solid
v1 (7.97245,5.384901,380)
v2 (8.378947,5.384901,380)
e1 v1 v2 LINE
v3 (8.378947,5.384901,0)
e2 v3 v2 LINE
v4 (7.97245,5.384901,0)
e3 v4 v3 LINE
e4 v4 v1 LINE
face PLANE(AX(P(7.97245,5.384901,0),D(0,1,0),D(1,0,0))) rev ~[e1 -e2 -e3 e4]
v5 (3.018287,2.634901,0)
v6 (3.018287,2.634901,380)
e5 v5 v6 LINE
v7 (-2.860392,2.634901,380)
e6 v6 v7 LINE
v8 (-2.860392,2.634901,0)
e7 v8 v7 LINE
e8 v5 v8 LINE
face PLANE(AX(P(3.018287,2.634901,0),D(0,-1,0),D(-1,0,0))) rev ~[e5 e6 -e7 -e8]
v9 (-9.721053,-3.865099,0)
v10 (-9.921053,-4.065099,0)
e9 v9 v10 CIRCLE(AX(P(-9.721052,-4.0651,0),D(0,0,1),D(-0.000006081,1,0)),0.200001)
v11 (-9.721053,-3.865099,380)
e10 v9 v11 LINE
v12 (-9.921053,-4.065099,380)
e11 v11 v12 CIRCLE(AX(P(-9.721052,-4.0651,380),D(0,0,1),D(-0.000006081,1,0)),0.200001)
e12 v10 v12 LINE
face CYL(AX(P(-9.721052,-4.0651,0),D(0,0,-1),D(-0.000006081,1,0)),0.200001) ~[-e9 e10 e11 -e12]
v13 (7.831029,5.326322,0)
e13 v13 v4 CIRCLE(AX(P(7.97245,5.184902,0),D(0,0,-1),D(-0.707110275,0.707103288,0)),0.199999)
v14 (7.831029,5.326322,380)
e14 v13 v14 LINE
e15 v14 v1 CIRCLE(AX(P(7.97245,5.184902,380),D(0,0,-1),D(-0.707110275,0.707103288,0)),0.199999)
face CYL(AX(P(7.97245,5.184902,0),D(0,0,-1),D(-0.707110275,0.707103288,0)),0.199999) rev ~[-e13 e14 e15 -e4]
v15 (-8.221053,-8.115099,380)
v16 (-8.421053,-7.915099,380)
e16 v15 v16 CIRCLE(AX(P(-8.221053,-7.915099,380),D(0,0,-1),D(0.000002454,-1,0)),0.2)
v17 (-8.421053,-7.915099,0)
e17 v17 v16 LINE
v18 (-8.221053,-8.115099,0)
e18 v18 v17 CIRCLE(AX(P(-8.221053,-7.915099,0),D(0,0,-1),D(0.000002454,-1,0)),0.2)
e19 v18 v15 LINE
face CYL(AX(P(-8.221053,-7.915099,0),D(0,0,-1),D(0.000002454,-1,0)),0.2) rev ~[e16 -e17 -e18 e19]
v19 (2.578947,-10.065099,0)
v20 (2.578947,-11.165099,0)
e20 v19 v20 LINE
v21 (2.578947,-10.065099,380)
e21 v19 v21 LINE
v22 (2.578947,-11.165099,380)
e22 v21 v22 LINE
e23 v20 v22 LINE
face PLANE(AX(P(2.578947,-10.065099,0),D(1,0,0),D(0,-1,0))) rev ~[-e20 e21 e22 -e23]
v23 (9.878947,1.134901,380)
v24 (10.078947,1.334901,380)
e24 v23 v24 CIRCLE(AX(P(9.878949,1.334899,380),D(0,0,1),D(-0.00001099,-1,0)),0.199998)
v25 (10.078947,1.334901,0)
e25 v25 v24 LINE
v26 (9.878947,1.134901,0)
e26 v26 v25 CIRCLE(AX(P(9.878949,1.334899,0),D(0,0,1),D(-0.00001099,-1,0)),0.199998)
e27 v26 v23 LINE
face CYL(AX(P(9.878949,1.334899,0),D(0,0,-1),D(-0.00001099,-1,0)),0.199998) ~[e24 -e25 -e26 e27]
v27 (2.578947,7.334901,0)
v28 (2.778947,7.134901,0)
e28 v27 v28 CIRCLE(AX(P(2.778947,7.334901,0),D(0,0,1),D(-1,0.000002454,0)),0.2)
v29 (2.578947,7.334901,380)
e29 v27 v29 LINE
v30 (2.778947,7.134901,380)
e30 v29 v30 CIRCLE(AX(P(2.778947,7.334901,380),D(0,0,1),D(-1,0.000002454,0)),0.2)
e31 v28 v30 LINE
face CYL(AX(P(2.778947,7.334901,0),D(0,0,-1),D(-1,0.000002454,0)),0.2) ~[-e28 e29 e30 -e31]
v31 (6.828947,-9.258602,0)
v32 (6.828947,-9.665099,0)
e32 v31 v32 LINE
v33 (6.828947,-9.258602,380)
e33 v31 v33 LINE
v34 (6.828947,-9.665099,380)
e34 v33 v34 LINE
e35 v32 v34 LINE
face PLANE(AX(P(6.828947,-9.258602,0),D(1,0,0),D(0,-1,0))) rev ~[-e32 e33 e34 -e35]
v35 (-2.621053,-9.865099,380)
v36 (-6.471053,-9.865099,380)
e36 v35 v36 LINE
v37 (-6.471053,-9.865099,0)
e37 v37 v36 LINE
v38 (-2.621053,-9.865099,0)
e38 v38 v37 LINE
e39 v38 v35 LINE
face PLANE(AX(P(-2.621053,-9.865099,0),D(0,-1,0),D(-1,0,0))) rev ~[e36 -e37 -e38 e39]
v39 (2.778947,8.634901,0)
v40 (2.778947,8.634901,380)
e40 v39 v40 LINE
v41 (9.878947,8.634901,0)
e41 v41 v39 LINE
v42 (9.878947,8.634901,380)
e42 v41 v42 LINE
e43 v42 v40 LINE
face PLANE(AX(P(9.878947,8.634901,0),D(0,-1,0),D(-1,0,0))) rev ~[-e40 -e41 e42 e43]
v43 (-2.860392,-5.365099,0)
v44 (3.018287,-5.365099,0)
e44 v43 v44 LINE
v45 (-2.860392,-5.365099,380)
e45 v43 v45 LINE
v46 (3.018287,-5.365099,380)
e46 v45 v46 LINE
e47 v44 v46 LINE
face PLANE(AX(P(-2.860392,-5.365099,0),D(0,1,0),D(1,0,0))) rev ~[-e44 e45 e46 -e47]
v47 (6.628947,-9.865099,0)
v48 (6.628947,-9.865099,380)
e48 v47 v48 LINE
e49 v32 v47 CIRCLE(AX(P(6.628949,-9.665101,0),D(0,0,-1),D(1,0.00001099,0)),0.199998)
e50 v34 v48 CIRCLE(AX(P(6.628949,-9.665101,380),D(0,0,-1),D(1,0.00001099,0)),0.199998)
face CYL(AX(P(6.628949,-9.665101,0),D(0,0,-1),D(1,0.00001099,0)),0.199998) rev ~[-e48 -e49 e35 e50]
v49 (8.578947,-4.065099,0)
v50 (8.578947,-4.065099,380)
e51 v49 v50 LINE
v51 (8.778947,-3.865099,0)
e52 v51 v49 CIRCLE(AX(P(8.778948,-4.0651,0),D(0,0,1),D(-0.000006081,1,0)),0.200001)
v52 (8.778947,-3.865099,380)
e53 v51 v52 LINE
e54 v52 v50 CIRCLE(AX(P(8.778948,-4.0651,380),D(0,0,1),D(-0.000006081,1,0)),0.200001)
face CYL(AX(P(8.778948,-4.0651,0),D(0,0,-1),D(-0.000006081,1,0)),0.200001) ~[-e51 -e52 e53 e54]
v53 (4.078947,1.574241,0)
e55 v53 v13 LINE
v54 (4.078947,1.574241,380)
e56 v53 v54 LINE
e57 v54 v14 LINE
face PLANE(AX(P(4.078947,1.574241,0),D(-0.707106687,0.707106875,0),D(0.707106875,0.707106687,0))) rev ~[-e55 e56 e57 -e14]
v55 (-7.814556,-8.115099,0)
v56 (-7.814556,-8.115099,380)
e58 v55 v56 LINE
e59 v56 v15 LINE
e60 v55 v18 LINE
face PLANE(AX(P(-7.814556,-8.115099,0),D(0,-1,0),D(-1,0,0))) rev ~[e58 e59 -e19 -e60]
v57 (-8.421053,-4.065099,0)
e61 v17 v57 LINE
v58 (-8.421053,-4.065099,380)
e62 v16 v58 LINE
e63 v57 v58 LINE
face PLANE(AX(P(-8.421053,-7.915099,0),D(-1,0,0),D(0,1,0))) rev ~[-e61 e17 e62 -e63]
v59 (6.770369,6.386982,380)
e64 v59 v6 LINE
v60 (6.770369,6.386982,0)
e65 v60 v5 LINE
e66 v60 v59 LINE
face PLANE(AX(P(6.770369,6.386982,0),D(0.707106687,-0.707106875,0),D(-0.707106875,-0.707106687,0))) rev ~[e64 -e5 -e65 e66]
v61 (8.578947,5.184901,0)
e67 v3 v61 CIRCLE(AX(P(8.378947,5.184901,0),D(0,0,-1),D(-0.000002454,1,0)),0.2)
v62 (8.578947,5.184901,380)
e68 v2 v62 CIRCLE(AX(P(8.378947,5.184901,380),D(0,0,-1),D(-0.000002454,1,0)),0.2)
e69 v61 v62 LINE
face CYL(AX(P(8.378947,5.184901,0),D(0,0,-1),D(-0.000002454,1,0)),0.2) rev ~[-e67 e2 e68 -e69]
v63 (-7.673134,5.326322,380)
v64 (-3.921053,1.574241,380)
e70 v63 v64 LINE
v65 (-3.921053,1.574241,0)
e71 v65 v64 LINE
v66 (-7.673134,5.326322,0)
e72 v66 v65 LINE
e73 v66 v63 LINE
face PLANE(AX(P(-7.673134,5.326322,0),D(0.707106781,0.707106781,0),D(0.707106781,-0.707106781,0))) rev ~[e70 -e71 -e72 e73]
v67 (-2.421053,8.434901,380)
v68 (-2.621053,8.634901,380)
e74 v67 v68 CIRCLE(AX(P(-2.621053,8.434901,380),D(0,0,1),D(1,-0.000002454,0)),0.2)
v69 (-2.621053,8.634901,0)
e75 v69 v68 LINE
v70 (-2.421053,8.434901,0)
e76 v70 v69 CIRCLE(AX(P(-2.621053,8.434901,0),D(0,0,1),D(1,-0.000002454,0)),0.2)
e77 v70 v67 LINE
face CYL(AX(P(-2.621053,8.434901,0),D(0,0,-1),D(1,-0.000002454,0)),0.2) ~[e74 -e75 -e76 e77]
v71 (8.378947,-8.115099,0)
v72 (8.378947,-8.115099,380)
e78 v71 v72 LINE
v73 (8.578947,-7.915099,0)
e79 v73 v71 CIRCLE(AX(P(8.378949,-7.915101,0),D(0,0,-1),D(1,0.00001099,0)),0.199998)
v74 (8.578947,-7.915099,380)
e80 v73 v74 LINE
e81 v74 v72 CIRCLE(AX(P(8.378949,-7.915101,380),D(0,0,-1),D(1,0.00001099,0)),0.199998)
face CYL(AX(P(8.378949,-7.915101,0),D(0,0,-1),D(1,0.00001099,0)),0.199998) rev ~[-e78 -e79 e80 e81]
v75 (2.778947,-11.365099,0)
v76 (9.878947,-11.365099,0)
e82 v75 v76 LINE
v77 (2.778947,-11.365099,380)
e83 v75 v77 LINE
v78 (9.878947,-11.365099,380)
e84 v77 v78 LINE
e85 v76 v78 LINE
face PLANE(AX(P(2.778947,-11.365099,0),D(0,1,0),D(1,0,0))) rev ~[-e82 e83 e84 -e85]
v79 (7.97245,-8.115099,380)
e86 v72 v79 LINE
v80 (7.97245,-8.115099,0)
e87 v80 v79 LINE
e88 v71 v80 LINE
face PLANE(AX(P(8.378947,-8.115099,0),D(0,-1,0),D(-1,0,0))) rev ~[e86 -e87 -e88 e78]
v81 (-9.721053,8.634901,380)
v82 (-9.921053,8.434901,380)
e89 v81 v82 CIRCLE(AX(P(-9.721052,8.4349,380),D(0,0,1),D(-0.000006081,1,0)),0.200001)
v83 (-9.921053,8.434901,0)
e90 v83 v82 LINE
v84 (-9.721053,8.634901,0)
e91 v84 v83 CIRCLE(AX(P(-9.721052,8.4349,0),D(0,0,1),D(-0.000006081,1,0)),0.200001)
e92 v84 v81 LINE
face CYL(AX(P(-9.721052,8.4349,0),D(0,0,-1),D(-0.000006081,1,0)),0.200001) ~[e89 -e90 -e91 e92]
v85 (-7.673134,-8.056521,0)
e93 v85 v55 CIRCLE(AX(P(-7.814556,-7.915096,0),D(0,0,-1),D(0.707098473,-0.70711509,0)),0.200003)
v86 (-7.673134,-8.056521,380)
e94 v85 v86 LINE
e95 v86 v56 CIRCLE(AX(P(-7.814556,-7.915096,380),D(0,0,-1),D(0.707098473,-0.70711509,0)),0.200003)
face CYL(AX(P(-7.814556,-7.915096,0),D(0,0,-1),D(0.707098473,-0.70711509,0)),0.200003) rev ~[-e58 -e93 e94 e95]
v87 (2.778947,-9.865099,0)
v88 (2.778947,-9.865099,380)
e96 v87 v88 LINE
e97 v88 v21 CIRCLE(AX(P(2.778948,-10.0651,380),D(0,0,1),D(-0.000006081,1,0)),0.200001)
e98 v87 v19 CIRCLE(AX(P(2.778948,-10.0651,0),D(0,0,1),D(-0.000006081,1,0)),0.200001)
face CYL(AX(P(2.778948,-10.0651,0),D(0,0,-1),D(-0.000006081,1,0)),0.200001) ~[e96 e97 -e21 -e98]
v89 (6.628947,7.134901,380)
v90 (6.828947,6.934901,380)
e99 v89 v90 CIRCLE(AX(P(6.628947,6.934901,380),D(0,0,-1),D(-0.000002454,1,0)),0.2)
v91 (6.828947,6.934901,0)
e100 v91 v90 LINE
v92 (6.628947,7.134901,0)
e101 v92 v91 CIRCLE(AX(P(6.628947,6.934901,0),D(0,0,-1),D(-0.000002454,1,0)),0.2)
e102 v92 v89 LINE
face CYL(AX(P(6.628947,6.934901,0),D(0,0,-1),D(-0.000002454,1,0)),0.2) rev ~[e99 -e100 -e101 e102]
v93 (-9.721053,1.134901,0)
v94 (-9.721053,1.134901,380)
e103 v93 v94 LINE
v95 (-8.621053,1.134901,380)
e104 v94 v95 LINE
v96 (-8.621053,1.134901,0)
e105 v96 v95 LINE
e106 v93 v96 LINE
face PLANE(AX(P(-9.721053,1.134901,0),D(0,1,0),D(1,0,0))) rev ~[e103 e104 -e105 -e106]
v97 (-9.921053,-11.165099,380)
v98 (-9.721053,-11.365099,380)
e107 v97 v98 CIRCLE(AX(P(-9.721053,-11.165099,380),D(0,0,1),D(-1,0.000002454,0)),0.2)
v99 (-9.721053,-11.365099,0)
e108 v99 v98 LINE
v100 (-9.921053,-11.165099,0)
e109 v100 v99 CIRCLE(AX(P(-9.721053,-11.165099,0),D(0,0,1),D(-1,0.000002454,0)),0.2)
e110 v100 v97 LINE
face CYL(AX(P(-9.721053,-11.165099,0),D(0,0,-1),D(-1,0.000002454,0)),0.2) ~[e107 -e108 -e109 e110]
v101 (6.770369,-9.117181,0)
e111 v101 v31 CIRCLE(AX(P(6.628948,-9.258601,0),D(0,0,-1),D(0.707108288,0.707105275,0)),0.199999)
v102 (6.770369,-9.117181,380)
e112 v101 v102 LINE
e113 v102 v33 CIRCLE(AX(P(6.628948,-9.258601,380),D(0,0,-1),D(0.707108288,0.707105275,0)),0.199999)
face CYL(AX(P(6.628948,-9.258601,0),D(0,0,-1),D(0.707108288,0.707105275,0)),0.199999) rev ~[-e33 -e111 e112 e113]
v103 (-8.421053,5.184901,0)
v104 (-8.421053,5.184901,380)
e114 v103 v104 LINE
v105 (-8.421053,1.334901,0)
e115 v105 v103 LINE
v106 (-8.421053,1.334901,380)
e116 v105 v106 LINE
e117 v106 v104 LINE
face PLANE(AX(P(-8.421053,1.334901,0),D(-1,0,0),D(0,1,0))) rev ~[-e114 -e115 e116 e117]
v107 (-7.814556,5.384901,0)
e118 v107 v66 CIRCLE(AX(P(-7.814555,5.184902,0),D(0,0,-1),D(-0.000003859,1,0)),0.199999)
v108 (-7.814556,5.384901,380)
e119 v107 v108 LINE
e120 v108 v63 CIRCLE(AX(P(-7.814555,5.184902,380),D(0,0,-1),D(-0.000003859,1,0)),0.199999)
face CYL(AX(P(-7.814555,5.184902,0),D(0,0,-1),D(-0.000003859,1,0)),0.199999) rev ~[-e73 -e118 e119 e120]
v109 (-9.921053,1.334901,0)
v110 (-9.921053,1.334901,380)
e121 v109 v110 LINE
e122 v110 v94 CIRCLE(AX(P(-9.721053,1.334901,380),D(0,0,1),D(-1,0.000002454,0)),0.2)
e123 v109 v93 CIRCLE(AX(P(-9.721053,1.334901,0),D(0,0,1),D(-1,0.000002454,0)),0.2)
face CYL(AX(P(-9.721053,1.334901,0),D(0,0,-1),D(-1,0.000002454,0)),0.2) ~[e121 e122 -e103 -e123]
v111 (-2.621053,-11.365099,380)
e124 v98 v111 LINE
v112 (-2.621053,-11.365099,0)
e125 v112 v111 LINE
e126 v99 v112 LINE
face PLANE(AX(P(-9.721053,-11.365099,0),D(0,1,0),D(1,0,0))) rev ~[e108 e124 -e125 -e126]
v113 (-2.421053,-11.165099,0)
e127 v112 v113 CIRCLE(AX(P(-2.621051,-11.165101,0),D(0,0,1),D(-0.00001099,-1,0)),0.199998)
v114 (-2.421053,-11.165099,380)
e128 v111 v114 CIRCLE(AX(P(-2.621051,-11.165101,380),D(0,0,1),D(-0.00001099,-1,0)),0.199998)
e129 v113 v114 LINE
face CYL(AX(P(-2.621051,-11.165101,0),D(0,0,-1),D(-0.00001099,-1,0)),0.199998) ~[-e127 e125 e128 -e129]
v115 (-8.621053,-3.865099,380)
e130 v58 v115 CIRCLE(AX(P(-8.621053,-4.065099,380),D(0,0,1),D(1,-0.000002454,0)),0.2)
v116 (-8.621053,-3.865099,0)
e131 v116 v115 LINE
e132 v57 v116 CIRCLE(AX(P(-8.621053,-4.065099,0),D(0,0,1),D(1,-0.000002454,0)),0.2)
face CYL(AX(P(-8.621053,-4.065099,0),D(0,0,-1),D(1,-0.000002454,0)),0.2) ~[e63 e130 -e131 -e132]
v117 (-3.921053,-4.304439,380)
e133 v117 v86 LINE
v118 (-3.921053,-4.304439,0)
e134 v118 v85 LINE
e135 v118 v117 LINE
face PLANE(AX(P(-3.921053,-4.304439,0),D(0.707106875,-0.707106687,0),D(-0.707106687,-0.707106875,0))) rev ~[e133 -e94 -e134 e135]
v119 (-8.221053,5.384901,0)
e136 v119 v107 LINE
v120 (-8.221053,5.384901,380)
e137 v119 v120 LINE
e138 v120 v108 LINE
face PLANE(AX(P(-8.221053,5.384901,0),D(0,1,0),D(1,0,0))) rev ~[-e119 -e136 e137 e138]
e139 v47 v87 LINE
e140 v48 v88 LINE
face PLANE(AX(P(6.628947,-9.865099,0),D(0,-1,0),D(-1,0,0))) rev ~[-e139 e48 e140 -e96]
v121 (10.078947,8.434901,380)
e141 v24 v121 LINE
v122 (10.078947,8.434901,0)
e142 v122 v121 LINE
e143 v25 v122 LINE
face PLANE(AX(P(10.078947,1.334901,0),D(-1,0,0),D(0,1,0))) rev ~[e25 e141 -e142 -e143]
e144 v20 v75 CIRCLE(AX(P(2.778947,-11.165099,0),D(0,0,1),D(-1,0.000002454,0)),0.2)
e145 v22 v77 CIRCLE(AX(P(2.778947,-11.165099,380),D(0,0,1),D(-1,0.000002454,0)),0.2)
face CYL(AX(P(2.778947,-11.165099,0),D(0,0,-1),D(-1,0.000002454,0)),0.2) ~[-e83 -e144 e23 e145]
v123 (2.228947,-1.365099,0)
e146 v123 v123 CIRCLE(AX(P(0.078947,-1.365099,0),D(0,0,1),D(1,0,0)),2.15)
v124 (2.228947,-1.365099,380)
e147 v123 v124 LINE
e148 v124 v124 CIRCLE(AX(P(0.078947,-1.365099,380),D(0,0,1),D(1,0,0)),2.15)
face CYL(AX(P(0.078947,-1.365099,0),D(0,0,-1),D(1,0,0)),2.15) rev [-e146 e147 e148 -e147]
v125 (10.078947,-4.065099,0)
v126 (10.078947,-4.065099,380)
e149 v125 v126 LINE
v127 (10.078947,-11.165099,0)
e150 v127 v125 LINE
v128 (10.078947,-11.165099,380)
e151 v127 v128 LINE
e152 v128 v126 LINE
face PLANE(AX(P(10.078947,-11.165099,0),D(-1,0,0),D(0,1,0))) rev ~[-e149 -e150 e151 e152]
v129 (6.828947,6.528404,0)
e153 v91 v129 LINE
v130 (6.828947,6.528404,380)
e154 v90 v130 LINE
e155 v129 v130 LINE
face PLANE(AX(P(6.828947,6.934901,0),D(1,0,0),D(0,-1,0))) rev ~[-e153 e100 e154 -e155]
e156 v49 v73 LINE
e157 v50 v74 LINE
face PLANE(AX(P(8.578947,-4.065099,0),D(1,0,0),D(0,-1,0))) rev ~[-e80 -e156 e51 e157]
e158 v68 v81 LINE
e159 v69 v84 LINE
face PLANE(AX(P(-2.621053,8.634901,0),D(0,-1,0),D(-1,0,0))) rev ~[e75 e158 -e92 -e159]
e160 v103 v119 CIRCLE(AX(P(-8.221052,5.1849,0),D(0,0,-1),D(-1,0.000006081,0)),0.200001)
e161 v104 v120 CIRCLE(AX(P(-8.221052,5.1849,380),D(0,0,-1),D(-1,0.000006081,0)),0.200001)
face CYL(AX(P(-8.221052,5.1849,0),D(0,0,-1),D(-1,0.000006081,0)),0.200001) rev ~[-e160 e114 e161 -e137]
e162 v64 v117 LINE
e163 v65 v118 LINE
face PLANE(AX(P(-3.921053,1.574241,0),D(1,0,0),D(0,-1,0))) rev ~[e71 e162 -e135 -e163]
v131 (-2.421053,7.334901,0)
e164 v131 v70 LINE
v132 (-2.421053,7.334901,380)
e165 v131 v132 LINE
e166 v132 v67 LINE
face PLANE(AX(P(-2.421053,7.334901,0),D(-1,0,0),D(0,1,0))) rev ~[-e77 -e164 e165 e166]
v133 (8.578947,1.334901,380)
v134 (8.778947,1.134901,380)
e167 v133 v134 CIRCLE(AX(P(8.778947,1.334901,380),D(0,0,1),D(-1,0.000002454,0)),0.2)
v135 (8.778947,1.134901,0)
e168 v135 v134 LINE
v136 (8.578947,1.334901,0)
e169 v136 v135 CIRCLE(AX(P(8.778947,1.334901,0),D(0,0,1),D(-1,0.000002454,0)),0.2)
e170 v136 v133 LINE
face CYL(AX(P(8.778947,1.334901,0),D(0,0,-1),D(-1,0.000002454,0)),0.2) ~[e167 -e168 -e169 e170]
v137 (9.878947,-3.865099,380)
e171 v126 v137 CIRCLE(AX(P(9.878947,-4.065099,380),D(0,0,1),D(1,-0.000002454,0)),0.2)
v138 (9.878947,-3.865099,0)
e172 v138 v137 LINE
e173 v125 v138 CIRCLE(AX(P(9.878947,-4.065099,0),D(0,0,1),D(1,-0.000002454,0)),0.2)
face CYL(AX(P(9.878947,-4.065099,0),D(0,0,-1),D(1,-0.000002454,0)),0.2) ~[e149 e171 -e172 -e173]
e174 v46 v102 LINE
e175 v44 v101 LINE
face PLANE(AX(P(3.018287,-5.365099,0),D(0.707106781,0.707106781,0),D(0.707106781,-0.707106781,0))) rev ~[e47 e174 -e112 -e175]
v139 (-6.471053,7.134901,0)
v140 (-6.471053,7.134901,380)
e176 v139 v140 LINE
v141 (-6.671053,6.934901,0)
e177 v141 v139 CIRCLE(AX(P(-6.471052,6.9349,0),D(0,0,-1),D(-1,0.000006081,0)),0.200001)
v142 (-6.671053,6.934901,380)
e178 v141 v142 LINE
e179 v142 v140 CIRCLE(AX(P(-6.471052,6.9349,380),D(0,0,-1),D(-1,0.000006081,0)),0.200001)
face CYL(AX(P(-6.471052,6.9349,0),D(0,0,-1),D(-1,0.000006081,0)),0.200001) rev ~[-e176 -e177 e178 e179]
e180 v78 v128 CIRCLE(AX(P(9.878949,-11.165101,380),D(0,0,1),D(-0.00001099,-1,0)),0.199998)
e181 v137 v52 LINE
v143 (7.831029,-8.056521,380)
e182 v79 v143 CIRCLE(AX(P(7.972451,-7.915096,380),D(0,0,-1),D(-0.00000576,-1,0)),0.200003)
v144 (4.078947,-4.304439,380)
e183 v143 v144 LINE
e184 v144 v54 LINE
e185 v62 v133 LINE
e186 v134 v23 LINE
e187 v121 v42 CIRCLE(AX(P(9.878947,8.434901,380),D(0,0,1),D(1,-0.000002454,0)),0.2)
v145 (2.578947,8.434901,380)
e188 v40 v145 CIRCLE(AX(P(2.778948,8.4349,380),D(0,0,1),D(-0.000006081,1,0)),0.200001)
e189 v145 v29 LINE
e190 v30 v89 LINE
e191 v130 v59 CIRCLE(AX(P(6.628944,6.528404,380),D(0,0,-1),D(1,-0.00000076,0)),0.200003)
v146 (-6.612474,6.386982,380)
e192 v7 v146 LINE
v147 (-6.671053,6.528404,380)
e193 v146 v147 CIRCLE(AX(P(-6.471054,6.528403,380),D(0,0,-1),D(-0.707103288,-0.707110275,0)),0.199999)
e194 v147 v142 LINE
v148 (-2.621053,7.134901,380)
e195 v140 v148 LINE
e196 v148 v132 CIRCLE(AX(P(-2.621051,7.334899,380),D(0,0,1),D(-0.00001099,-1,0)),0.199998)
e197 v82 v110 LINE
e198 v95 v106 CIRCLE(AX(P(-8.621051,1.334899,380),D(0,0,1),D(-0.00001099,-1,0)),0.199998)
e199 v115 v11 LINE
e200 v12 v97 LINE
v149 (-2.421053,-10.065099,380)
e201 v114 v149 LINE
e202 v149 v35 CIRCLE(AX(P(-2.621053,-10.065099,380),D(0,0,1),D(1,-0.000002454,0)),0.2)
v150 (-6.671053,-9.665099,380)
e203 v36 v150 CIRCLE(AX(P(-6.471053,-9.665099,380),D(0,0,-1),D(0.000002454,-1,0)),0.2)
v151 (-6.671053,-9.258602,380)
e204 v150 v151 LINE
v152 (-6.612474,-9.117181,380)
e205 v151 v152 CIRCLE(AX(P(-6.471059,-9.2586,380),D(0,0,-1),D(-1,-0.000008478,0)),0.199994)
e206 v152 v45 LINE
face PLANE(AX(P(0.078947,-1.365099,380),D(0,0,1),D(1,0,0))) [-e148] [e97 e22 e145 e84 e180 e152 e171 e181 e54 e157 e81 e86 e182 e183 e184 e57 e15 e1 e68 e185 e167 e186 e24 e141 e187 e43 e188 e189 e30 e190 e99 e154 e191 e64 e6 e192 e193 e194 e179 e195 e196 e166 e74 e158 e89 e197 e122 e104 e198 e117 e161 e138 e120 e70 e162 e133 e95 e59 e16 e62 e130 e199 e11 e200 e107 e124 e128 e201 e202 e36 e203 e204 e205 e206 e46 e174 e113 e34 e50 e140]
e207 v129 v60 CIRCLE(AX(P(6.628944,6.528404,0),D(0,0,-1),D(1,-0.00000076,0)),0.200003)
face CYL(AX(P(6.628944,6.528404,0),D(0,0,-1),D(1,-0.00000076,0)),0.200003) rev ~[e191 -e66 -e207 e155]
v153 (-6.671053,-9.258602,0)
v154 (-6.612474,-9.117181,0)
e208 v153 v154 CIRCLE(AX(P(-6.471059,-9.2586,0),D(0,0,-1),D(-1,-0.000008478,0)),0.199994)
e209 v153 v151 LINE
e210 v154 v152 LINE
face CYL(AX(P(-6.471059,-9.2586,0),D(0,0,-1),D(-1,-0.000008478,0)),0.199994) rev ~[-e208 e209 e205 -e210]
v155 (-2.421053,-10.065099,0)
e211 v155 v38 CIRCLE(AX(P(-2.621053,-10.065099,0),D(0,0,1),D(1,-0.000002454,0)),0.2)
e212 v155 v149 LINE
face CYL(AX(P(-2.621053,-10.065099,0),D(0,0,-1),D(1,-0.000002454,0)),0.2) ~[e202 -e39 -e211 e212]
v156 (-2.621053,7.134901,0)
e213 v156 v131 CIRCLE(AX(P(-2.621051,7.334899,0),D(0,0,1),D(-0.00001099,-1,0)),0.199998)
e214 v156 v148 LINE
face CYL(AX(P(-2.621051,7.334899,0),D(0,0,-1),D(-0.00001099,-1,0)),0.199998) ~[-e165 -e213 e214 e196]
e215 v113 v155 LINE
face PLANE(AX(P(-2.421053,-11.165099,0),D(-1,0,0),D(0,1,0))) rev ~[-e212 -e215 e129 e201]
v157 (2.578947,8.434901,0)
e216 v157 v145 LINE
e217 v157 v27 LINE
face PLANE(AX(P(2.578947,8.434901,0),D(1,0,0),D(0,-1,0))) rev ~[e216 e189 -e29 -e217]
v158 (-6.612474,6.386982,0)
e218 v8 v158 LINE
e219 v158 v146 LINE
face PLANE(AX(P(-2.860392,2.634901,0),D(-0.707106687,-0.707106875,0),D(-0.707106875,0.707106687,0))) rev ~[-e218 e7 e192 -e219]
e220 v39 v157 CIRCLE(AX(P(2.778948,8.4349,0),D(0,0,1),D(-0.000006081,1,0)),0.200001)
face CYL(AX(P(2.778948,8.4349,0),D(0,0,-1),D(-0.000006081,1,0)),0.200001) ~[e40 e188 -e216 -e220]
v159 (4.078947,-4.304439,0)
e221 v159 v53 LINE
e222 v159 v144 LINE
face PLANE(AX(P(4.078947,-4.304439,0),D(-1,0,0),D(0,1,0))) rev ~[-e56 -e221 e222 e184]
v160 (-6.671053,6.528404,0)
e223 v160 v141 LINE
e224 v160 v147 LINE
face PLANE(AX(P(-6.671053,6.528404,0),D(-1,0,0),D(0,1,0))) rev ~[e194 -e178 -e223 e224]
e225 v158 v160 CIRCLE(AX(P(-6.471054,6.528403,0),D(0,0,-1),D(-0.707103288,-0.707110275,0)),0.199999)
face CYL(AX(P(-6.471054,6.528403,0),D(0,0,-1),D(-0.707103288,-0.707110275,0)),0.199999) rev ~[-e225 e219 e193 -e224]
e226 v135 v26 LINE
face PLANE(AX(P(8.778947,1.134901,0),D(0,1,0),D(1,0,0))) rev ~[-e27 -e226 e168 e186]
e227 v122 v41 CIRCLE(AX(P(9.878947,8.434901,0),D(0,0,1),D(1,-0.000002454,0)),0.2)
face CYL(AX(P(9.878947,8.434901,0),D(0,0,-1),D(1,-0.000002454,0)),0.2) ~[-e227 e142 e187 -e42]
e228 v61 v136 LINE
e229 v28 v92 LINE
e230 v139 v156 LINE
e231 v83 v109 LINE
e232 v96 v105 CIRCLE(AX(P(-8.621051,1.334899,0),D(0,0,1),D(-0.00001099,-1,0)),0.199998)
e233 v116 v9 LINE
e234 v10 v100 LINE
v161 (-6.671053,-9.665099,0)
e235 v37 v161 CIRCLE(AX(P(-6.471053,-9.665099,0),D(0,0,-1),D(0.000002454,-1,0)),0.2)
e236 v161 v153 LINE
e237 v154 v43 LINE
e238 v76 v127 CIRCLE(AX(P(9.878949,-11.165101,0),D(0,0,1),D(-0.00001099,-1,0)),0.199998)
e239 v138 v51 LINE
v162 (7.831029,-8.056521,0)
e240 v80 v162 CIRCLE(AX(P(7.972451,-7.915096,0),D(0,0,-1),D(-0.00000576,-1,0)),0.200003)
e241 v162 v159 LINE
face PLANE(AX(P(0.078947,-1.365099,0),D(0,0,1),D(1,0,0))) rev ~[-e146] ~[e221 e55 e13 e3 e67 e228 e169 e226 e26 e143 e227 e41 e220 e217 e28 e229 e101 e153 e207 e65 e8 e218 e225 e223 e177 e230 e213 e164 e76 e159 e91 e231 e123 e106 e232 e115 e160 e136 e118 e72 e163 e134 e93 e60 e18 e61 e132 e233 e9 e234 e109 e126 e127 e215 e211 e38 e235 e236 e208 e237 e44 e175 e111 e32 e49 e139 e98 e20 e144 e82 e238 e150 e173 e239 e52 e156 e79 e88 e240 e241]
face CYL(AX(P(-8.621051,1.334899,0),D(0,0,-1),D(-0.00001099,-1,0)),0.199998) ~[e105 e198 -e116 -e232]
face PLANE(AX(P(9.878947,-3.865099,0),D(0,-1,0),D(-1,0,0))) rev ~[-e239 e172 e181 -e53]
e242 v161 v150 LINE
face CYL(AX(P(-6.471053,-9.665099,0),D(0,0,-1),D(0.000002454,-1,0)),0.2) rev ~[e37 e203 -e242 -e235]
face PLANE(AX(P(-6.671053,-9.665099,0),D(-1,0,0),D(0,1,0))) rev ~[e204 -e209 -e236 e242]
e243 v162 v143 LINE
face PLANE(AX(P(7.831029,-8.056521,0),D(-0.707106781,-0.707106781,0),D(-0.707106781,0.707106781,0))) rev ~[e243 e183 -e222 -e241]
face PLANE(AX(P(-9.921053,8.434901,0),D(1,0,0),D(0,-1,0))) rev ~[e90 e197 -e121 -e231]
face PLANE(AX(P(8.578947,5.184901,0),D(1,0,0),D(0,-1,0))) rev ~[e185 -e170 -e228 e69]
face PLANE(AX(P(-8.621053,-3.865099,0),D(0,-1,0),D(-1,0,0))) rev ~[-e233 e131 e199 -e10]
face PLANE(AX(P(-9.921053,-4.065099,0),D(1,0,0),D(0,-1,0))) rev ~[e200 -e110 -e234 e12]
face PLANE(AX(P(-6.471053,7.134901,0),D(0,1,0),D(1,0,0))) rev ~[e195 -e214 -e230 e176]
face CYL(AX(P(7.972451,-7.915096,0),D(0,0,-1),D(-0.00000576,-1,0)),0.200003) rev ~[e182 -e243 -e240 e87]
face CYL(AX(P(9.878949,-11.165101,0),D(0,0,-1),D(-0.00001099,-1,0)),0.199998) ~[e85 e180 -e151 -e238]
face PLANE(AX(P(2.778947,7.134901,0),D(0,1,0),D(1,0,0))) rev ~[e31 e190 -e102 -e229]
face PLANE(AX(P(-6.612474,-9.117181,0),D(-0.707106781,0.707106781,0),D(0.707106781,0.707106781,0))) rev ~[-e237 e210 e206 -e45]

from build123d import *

# Parameters (mm, degrees)
F0_R     = 2.15
F1_DEPTH = 380


with BuildPart() as f1:
    # F0 (on Top) → F1 (new body)
    with BuildSketch(Plane.XY):
        with BuildLine():
            ThreePointArc((10.078947, 8.434901), (10.020369, 8.576322), (9.878947, 8.634901))
            Line((9.878947, 8.634901), (2.778947, 8.634901))
            ThreePointArc((2.778947, 8.634901), (2.637526, 8.576322), (2.578947, 8.434901))
            Line((2.578947, 8.434901), (2.578947, 7.334901))
            ThreePointArc((2.578947, 7.334901), (2.637526, 7.193479), (2.778947, 7.134901))
            Line((2.778947, 7.134901), (6.628947, 7.134901))
            ThreePointArc((6.628947, 7.134901), (6.770369, 7.076322), (6.828947, 6.934901))
            Line((6.828947, 6.934901), (6.828947, 6.528404))
            ThreePointArc((6.828947, 6.528404), (6.813723, 6.451867), (6.770369, 6.386982))
            Line((6.770369, 6.386982), (3.018287, 2.634901))
            Line((3.018287, 2.634901), (-2.860392, 2.634901))
            Line((-2.860392, 2.634901), (-6.612474, 6.386982))
            ThreePointArc((-6.612474, 6.386982), (-6.655829, 6.451867), (-6.671053, 6.528404))
            Line((-6.671053, 6.528404), (-6.671053, 6.934901))
            ThreePointArc((-6.671053, 6.934901), (-6.612474, 7.076322), (-6.471053, 7.134901))
            Line((-6.471053, 7.134901), (-2.621053, 7.134901))
            ThreePointArc((-2.621053, 7.134901), (-2.479631, 7.193479), (-2.421053, 7.334901))
            Line((-2.421053, 7.334901), (-2.421053, 8.434901))
            ThreePointArc((-2.421053, 8.434901), (-2.479631, 8.576322), (-2.621053, 8.634901))
            Line((-2.621053, 8.634901), (-9.721053, 8.634901))
            ThreePointArc((-9.721053, 8.634901), (-9.862474, 8.576322), (-9.921053, 8.434901))
            Line((-9.921053, 8.434901), (-9.921053, 1.334901))
            ThreePointArc((-9.921053, 1.334901), (-9.862474, 1.193479), (-9.721053, 1.134901))
            Line((-9.721053, 1.134901), (-8.621053, 1.134901))
            ThreePointArc((-8.621053, 1.134901), (-8.479631, 1.193479), (-8.421053, 1.334901))
            Line((-8.421053, 1.334901), (-8.421053, 5.184901))
            ThreePointArc((-8.421053, 5.184901), (-8.362474, 5.326322), (-8.221053, 5.384901))
            Line((-8.221053, 5.384901), (-7.814556, 5.384901))
            ThreePointArc((-7.814556, 5.384901), (-7.738019, 5.369677), (-7.673134, 5.326322))
            Line((-7.673134, 5.326322), (-3.921053, 1.574241))
            Line((-3.921053, 1.574241), (-3.921053, -4.304439))
            Line((-3.921053, -4.304439), (-7.673134, -8.056521))
            ThreePointArc((-7.673134, -8.056521), (-7.738019, -8.099875), (-7.814556, -8.115099))
            Line((-7.814556, -8.115099), (-8.221053, -8.115099))
            ThreePointArc((-8.221053, -8.115099), (-8.362474, -8.056521), (-8.421053, -7.915099))
            Line((-8.421053, -7.915099), (-8.421053, -4.065099))
            ThreePointArc((-8.421053, -4.065099), (-8.479631, -3.923678), (-8.621053, -3.865099))
            Line((-8.621053, -3.865099), (-9.721053, -3.865099))
            ThreePointArc((-9.721053, -3.865099), (-9.862474, -3.923678), (-9.921053, -4.065099))
            Line((-9.921053, -4.065099), (-9.921053, -11.165099))
            ThreePointArc((-9.921053, -11.165099), (-9.862474, -11.306521), (-9.721053, -11.365099))
            Line((-9.721053, -11.365099), (-2.621053, -11.365099))
            ThreePointArc((-2.621053, -11.365099), (-2.479631, -11.306521), (-2.421053, -11.165099))
            Line((-2.421053, -11.165099), (-2.421053, -10.065099))
            ThreePointArc((-2.421053, -10.065099), (-2.479631, -9.923678), (-2.621053, -9.865099))
            Line((-2.621053, -9.865099), (-6.471053, -9.865099))
            ThreePointArc((-6.471053, -9.865099), (-6.612474, -9.806521), (-6.671053, -9.665099))
            Line((-6.671053, -9.665099), (-6.671053, -9.258602))
            ThreePointArc((-6.671053, -9.258602), (-6.655829, -9.182065), (-6.612474, -9.117181))
            Line((-6.612474, -9.117181), (-2.860392, -5.365099))
            Line((-2.860392, -5.365099), (3.018287, -5.365099))
            Line((3.018287, -5.365099), (6.770369, -9.117181))
            ThreePointArc((6.770369, -9.117181), (6.813723, -9.182065), (6.828947, -9.258602))
            Line((6.828947, -9.258602), (6.828947, -9.665099))
            ThreePointArc((6.828947, -9.665099), (6.770369, -9.806521), (6.628947, -9.865099))
            Line((6.628947, -9.865099), (2.778947, -9.865099))
            ThreePointArc((2.778947, -9.865099), (2.637526, -9.923678), (2.578947, -10.065099))
            Line((2.578947, -10.065099), (2.578947, -11.165099))
            ThreePointArc((2.578947, -11.165099), (2.637526, -11.306521), (2.778947, -11.365099))
            Line((2.778947, -11.365099), (9.878947, -11.365099))
            ThreePointArc((9.878947, -11.365099), (10.020369, -11.306521), (10.078947, -11.165099))
            Line((10.078947, -11.165099), (10.078947, -4.065099))
            ThreePointArc((10.078947, -4.065099), (10.020369, -3.923678), (9.878947, -3.865099))
            Line((9.878947, -3.865099), (8.778947, -3.865099))
            ThreePointArc((8.778947, -3.865099), (8.637526, -3.923678), (8.578947, -4.065099))
            Line((8.578947, -4.065099), (8.578947, -7.915099))
            ThreePointArc((8.578947, -7.915099), (8.520369, -8.056521), (8.378947, -8.115099))
            Line((8.378947, -8.115099), (7.97245, -8.115099))
            ThreePointArc((7.97245, -8.115099), (7.895914, -8.099875), (7.831029, -8.056521))
            Line((7.831029, -8.056521), (4.078947, -4.304439))
            Line((4.078947, -4.304439), (4.078947, 1.574241))
            Line((4.078947, 1.574241), (7.831029, 5.326322))
            ThreePointArc((7.831029, 5.326322), (7.895914, 5.369677), (7.97245, 5.384901))
            Line((7.97245, 5.384901), (8.378947, 5.384901))
            ThreePointArc((8.378947, 5.384901), (8.520369, 5.326322), (8.578947, 5.184901))
            Line((8.578947, 5.184901), (8.578947, 1.334901))
            ThreePointArc((8.578947, 1.334901), (8.637526, 1.193479), (8.778947, 1.134901))
            Line((8.778947, 1.134901), (9.878947, 1.134901))
            ThreePointArc((9.878947, 1.134901), (10.020369, 1.193479), (10.078947, 1.334901))
            Line((10.078947, 1.334901), (10.078947, 8.434901))
        make_face()
        with Locations((0.078947, -1.365099)):
            Circle(F0_R, mode=Mode.SUBTRACT)
    extrude(amount=F1_DEPTH)


solid = f1.part
